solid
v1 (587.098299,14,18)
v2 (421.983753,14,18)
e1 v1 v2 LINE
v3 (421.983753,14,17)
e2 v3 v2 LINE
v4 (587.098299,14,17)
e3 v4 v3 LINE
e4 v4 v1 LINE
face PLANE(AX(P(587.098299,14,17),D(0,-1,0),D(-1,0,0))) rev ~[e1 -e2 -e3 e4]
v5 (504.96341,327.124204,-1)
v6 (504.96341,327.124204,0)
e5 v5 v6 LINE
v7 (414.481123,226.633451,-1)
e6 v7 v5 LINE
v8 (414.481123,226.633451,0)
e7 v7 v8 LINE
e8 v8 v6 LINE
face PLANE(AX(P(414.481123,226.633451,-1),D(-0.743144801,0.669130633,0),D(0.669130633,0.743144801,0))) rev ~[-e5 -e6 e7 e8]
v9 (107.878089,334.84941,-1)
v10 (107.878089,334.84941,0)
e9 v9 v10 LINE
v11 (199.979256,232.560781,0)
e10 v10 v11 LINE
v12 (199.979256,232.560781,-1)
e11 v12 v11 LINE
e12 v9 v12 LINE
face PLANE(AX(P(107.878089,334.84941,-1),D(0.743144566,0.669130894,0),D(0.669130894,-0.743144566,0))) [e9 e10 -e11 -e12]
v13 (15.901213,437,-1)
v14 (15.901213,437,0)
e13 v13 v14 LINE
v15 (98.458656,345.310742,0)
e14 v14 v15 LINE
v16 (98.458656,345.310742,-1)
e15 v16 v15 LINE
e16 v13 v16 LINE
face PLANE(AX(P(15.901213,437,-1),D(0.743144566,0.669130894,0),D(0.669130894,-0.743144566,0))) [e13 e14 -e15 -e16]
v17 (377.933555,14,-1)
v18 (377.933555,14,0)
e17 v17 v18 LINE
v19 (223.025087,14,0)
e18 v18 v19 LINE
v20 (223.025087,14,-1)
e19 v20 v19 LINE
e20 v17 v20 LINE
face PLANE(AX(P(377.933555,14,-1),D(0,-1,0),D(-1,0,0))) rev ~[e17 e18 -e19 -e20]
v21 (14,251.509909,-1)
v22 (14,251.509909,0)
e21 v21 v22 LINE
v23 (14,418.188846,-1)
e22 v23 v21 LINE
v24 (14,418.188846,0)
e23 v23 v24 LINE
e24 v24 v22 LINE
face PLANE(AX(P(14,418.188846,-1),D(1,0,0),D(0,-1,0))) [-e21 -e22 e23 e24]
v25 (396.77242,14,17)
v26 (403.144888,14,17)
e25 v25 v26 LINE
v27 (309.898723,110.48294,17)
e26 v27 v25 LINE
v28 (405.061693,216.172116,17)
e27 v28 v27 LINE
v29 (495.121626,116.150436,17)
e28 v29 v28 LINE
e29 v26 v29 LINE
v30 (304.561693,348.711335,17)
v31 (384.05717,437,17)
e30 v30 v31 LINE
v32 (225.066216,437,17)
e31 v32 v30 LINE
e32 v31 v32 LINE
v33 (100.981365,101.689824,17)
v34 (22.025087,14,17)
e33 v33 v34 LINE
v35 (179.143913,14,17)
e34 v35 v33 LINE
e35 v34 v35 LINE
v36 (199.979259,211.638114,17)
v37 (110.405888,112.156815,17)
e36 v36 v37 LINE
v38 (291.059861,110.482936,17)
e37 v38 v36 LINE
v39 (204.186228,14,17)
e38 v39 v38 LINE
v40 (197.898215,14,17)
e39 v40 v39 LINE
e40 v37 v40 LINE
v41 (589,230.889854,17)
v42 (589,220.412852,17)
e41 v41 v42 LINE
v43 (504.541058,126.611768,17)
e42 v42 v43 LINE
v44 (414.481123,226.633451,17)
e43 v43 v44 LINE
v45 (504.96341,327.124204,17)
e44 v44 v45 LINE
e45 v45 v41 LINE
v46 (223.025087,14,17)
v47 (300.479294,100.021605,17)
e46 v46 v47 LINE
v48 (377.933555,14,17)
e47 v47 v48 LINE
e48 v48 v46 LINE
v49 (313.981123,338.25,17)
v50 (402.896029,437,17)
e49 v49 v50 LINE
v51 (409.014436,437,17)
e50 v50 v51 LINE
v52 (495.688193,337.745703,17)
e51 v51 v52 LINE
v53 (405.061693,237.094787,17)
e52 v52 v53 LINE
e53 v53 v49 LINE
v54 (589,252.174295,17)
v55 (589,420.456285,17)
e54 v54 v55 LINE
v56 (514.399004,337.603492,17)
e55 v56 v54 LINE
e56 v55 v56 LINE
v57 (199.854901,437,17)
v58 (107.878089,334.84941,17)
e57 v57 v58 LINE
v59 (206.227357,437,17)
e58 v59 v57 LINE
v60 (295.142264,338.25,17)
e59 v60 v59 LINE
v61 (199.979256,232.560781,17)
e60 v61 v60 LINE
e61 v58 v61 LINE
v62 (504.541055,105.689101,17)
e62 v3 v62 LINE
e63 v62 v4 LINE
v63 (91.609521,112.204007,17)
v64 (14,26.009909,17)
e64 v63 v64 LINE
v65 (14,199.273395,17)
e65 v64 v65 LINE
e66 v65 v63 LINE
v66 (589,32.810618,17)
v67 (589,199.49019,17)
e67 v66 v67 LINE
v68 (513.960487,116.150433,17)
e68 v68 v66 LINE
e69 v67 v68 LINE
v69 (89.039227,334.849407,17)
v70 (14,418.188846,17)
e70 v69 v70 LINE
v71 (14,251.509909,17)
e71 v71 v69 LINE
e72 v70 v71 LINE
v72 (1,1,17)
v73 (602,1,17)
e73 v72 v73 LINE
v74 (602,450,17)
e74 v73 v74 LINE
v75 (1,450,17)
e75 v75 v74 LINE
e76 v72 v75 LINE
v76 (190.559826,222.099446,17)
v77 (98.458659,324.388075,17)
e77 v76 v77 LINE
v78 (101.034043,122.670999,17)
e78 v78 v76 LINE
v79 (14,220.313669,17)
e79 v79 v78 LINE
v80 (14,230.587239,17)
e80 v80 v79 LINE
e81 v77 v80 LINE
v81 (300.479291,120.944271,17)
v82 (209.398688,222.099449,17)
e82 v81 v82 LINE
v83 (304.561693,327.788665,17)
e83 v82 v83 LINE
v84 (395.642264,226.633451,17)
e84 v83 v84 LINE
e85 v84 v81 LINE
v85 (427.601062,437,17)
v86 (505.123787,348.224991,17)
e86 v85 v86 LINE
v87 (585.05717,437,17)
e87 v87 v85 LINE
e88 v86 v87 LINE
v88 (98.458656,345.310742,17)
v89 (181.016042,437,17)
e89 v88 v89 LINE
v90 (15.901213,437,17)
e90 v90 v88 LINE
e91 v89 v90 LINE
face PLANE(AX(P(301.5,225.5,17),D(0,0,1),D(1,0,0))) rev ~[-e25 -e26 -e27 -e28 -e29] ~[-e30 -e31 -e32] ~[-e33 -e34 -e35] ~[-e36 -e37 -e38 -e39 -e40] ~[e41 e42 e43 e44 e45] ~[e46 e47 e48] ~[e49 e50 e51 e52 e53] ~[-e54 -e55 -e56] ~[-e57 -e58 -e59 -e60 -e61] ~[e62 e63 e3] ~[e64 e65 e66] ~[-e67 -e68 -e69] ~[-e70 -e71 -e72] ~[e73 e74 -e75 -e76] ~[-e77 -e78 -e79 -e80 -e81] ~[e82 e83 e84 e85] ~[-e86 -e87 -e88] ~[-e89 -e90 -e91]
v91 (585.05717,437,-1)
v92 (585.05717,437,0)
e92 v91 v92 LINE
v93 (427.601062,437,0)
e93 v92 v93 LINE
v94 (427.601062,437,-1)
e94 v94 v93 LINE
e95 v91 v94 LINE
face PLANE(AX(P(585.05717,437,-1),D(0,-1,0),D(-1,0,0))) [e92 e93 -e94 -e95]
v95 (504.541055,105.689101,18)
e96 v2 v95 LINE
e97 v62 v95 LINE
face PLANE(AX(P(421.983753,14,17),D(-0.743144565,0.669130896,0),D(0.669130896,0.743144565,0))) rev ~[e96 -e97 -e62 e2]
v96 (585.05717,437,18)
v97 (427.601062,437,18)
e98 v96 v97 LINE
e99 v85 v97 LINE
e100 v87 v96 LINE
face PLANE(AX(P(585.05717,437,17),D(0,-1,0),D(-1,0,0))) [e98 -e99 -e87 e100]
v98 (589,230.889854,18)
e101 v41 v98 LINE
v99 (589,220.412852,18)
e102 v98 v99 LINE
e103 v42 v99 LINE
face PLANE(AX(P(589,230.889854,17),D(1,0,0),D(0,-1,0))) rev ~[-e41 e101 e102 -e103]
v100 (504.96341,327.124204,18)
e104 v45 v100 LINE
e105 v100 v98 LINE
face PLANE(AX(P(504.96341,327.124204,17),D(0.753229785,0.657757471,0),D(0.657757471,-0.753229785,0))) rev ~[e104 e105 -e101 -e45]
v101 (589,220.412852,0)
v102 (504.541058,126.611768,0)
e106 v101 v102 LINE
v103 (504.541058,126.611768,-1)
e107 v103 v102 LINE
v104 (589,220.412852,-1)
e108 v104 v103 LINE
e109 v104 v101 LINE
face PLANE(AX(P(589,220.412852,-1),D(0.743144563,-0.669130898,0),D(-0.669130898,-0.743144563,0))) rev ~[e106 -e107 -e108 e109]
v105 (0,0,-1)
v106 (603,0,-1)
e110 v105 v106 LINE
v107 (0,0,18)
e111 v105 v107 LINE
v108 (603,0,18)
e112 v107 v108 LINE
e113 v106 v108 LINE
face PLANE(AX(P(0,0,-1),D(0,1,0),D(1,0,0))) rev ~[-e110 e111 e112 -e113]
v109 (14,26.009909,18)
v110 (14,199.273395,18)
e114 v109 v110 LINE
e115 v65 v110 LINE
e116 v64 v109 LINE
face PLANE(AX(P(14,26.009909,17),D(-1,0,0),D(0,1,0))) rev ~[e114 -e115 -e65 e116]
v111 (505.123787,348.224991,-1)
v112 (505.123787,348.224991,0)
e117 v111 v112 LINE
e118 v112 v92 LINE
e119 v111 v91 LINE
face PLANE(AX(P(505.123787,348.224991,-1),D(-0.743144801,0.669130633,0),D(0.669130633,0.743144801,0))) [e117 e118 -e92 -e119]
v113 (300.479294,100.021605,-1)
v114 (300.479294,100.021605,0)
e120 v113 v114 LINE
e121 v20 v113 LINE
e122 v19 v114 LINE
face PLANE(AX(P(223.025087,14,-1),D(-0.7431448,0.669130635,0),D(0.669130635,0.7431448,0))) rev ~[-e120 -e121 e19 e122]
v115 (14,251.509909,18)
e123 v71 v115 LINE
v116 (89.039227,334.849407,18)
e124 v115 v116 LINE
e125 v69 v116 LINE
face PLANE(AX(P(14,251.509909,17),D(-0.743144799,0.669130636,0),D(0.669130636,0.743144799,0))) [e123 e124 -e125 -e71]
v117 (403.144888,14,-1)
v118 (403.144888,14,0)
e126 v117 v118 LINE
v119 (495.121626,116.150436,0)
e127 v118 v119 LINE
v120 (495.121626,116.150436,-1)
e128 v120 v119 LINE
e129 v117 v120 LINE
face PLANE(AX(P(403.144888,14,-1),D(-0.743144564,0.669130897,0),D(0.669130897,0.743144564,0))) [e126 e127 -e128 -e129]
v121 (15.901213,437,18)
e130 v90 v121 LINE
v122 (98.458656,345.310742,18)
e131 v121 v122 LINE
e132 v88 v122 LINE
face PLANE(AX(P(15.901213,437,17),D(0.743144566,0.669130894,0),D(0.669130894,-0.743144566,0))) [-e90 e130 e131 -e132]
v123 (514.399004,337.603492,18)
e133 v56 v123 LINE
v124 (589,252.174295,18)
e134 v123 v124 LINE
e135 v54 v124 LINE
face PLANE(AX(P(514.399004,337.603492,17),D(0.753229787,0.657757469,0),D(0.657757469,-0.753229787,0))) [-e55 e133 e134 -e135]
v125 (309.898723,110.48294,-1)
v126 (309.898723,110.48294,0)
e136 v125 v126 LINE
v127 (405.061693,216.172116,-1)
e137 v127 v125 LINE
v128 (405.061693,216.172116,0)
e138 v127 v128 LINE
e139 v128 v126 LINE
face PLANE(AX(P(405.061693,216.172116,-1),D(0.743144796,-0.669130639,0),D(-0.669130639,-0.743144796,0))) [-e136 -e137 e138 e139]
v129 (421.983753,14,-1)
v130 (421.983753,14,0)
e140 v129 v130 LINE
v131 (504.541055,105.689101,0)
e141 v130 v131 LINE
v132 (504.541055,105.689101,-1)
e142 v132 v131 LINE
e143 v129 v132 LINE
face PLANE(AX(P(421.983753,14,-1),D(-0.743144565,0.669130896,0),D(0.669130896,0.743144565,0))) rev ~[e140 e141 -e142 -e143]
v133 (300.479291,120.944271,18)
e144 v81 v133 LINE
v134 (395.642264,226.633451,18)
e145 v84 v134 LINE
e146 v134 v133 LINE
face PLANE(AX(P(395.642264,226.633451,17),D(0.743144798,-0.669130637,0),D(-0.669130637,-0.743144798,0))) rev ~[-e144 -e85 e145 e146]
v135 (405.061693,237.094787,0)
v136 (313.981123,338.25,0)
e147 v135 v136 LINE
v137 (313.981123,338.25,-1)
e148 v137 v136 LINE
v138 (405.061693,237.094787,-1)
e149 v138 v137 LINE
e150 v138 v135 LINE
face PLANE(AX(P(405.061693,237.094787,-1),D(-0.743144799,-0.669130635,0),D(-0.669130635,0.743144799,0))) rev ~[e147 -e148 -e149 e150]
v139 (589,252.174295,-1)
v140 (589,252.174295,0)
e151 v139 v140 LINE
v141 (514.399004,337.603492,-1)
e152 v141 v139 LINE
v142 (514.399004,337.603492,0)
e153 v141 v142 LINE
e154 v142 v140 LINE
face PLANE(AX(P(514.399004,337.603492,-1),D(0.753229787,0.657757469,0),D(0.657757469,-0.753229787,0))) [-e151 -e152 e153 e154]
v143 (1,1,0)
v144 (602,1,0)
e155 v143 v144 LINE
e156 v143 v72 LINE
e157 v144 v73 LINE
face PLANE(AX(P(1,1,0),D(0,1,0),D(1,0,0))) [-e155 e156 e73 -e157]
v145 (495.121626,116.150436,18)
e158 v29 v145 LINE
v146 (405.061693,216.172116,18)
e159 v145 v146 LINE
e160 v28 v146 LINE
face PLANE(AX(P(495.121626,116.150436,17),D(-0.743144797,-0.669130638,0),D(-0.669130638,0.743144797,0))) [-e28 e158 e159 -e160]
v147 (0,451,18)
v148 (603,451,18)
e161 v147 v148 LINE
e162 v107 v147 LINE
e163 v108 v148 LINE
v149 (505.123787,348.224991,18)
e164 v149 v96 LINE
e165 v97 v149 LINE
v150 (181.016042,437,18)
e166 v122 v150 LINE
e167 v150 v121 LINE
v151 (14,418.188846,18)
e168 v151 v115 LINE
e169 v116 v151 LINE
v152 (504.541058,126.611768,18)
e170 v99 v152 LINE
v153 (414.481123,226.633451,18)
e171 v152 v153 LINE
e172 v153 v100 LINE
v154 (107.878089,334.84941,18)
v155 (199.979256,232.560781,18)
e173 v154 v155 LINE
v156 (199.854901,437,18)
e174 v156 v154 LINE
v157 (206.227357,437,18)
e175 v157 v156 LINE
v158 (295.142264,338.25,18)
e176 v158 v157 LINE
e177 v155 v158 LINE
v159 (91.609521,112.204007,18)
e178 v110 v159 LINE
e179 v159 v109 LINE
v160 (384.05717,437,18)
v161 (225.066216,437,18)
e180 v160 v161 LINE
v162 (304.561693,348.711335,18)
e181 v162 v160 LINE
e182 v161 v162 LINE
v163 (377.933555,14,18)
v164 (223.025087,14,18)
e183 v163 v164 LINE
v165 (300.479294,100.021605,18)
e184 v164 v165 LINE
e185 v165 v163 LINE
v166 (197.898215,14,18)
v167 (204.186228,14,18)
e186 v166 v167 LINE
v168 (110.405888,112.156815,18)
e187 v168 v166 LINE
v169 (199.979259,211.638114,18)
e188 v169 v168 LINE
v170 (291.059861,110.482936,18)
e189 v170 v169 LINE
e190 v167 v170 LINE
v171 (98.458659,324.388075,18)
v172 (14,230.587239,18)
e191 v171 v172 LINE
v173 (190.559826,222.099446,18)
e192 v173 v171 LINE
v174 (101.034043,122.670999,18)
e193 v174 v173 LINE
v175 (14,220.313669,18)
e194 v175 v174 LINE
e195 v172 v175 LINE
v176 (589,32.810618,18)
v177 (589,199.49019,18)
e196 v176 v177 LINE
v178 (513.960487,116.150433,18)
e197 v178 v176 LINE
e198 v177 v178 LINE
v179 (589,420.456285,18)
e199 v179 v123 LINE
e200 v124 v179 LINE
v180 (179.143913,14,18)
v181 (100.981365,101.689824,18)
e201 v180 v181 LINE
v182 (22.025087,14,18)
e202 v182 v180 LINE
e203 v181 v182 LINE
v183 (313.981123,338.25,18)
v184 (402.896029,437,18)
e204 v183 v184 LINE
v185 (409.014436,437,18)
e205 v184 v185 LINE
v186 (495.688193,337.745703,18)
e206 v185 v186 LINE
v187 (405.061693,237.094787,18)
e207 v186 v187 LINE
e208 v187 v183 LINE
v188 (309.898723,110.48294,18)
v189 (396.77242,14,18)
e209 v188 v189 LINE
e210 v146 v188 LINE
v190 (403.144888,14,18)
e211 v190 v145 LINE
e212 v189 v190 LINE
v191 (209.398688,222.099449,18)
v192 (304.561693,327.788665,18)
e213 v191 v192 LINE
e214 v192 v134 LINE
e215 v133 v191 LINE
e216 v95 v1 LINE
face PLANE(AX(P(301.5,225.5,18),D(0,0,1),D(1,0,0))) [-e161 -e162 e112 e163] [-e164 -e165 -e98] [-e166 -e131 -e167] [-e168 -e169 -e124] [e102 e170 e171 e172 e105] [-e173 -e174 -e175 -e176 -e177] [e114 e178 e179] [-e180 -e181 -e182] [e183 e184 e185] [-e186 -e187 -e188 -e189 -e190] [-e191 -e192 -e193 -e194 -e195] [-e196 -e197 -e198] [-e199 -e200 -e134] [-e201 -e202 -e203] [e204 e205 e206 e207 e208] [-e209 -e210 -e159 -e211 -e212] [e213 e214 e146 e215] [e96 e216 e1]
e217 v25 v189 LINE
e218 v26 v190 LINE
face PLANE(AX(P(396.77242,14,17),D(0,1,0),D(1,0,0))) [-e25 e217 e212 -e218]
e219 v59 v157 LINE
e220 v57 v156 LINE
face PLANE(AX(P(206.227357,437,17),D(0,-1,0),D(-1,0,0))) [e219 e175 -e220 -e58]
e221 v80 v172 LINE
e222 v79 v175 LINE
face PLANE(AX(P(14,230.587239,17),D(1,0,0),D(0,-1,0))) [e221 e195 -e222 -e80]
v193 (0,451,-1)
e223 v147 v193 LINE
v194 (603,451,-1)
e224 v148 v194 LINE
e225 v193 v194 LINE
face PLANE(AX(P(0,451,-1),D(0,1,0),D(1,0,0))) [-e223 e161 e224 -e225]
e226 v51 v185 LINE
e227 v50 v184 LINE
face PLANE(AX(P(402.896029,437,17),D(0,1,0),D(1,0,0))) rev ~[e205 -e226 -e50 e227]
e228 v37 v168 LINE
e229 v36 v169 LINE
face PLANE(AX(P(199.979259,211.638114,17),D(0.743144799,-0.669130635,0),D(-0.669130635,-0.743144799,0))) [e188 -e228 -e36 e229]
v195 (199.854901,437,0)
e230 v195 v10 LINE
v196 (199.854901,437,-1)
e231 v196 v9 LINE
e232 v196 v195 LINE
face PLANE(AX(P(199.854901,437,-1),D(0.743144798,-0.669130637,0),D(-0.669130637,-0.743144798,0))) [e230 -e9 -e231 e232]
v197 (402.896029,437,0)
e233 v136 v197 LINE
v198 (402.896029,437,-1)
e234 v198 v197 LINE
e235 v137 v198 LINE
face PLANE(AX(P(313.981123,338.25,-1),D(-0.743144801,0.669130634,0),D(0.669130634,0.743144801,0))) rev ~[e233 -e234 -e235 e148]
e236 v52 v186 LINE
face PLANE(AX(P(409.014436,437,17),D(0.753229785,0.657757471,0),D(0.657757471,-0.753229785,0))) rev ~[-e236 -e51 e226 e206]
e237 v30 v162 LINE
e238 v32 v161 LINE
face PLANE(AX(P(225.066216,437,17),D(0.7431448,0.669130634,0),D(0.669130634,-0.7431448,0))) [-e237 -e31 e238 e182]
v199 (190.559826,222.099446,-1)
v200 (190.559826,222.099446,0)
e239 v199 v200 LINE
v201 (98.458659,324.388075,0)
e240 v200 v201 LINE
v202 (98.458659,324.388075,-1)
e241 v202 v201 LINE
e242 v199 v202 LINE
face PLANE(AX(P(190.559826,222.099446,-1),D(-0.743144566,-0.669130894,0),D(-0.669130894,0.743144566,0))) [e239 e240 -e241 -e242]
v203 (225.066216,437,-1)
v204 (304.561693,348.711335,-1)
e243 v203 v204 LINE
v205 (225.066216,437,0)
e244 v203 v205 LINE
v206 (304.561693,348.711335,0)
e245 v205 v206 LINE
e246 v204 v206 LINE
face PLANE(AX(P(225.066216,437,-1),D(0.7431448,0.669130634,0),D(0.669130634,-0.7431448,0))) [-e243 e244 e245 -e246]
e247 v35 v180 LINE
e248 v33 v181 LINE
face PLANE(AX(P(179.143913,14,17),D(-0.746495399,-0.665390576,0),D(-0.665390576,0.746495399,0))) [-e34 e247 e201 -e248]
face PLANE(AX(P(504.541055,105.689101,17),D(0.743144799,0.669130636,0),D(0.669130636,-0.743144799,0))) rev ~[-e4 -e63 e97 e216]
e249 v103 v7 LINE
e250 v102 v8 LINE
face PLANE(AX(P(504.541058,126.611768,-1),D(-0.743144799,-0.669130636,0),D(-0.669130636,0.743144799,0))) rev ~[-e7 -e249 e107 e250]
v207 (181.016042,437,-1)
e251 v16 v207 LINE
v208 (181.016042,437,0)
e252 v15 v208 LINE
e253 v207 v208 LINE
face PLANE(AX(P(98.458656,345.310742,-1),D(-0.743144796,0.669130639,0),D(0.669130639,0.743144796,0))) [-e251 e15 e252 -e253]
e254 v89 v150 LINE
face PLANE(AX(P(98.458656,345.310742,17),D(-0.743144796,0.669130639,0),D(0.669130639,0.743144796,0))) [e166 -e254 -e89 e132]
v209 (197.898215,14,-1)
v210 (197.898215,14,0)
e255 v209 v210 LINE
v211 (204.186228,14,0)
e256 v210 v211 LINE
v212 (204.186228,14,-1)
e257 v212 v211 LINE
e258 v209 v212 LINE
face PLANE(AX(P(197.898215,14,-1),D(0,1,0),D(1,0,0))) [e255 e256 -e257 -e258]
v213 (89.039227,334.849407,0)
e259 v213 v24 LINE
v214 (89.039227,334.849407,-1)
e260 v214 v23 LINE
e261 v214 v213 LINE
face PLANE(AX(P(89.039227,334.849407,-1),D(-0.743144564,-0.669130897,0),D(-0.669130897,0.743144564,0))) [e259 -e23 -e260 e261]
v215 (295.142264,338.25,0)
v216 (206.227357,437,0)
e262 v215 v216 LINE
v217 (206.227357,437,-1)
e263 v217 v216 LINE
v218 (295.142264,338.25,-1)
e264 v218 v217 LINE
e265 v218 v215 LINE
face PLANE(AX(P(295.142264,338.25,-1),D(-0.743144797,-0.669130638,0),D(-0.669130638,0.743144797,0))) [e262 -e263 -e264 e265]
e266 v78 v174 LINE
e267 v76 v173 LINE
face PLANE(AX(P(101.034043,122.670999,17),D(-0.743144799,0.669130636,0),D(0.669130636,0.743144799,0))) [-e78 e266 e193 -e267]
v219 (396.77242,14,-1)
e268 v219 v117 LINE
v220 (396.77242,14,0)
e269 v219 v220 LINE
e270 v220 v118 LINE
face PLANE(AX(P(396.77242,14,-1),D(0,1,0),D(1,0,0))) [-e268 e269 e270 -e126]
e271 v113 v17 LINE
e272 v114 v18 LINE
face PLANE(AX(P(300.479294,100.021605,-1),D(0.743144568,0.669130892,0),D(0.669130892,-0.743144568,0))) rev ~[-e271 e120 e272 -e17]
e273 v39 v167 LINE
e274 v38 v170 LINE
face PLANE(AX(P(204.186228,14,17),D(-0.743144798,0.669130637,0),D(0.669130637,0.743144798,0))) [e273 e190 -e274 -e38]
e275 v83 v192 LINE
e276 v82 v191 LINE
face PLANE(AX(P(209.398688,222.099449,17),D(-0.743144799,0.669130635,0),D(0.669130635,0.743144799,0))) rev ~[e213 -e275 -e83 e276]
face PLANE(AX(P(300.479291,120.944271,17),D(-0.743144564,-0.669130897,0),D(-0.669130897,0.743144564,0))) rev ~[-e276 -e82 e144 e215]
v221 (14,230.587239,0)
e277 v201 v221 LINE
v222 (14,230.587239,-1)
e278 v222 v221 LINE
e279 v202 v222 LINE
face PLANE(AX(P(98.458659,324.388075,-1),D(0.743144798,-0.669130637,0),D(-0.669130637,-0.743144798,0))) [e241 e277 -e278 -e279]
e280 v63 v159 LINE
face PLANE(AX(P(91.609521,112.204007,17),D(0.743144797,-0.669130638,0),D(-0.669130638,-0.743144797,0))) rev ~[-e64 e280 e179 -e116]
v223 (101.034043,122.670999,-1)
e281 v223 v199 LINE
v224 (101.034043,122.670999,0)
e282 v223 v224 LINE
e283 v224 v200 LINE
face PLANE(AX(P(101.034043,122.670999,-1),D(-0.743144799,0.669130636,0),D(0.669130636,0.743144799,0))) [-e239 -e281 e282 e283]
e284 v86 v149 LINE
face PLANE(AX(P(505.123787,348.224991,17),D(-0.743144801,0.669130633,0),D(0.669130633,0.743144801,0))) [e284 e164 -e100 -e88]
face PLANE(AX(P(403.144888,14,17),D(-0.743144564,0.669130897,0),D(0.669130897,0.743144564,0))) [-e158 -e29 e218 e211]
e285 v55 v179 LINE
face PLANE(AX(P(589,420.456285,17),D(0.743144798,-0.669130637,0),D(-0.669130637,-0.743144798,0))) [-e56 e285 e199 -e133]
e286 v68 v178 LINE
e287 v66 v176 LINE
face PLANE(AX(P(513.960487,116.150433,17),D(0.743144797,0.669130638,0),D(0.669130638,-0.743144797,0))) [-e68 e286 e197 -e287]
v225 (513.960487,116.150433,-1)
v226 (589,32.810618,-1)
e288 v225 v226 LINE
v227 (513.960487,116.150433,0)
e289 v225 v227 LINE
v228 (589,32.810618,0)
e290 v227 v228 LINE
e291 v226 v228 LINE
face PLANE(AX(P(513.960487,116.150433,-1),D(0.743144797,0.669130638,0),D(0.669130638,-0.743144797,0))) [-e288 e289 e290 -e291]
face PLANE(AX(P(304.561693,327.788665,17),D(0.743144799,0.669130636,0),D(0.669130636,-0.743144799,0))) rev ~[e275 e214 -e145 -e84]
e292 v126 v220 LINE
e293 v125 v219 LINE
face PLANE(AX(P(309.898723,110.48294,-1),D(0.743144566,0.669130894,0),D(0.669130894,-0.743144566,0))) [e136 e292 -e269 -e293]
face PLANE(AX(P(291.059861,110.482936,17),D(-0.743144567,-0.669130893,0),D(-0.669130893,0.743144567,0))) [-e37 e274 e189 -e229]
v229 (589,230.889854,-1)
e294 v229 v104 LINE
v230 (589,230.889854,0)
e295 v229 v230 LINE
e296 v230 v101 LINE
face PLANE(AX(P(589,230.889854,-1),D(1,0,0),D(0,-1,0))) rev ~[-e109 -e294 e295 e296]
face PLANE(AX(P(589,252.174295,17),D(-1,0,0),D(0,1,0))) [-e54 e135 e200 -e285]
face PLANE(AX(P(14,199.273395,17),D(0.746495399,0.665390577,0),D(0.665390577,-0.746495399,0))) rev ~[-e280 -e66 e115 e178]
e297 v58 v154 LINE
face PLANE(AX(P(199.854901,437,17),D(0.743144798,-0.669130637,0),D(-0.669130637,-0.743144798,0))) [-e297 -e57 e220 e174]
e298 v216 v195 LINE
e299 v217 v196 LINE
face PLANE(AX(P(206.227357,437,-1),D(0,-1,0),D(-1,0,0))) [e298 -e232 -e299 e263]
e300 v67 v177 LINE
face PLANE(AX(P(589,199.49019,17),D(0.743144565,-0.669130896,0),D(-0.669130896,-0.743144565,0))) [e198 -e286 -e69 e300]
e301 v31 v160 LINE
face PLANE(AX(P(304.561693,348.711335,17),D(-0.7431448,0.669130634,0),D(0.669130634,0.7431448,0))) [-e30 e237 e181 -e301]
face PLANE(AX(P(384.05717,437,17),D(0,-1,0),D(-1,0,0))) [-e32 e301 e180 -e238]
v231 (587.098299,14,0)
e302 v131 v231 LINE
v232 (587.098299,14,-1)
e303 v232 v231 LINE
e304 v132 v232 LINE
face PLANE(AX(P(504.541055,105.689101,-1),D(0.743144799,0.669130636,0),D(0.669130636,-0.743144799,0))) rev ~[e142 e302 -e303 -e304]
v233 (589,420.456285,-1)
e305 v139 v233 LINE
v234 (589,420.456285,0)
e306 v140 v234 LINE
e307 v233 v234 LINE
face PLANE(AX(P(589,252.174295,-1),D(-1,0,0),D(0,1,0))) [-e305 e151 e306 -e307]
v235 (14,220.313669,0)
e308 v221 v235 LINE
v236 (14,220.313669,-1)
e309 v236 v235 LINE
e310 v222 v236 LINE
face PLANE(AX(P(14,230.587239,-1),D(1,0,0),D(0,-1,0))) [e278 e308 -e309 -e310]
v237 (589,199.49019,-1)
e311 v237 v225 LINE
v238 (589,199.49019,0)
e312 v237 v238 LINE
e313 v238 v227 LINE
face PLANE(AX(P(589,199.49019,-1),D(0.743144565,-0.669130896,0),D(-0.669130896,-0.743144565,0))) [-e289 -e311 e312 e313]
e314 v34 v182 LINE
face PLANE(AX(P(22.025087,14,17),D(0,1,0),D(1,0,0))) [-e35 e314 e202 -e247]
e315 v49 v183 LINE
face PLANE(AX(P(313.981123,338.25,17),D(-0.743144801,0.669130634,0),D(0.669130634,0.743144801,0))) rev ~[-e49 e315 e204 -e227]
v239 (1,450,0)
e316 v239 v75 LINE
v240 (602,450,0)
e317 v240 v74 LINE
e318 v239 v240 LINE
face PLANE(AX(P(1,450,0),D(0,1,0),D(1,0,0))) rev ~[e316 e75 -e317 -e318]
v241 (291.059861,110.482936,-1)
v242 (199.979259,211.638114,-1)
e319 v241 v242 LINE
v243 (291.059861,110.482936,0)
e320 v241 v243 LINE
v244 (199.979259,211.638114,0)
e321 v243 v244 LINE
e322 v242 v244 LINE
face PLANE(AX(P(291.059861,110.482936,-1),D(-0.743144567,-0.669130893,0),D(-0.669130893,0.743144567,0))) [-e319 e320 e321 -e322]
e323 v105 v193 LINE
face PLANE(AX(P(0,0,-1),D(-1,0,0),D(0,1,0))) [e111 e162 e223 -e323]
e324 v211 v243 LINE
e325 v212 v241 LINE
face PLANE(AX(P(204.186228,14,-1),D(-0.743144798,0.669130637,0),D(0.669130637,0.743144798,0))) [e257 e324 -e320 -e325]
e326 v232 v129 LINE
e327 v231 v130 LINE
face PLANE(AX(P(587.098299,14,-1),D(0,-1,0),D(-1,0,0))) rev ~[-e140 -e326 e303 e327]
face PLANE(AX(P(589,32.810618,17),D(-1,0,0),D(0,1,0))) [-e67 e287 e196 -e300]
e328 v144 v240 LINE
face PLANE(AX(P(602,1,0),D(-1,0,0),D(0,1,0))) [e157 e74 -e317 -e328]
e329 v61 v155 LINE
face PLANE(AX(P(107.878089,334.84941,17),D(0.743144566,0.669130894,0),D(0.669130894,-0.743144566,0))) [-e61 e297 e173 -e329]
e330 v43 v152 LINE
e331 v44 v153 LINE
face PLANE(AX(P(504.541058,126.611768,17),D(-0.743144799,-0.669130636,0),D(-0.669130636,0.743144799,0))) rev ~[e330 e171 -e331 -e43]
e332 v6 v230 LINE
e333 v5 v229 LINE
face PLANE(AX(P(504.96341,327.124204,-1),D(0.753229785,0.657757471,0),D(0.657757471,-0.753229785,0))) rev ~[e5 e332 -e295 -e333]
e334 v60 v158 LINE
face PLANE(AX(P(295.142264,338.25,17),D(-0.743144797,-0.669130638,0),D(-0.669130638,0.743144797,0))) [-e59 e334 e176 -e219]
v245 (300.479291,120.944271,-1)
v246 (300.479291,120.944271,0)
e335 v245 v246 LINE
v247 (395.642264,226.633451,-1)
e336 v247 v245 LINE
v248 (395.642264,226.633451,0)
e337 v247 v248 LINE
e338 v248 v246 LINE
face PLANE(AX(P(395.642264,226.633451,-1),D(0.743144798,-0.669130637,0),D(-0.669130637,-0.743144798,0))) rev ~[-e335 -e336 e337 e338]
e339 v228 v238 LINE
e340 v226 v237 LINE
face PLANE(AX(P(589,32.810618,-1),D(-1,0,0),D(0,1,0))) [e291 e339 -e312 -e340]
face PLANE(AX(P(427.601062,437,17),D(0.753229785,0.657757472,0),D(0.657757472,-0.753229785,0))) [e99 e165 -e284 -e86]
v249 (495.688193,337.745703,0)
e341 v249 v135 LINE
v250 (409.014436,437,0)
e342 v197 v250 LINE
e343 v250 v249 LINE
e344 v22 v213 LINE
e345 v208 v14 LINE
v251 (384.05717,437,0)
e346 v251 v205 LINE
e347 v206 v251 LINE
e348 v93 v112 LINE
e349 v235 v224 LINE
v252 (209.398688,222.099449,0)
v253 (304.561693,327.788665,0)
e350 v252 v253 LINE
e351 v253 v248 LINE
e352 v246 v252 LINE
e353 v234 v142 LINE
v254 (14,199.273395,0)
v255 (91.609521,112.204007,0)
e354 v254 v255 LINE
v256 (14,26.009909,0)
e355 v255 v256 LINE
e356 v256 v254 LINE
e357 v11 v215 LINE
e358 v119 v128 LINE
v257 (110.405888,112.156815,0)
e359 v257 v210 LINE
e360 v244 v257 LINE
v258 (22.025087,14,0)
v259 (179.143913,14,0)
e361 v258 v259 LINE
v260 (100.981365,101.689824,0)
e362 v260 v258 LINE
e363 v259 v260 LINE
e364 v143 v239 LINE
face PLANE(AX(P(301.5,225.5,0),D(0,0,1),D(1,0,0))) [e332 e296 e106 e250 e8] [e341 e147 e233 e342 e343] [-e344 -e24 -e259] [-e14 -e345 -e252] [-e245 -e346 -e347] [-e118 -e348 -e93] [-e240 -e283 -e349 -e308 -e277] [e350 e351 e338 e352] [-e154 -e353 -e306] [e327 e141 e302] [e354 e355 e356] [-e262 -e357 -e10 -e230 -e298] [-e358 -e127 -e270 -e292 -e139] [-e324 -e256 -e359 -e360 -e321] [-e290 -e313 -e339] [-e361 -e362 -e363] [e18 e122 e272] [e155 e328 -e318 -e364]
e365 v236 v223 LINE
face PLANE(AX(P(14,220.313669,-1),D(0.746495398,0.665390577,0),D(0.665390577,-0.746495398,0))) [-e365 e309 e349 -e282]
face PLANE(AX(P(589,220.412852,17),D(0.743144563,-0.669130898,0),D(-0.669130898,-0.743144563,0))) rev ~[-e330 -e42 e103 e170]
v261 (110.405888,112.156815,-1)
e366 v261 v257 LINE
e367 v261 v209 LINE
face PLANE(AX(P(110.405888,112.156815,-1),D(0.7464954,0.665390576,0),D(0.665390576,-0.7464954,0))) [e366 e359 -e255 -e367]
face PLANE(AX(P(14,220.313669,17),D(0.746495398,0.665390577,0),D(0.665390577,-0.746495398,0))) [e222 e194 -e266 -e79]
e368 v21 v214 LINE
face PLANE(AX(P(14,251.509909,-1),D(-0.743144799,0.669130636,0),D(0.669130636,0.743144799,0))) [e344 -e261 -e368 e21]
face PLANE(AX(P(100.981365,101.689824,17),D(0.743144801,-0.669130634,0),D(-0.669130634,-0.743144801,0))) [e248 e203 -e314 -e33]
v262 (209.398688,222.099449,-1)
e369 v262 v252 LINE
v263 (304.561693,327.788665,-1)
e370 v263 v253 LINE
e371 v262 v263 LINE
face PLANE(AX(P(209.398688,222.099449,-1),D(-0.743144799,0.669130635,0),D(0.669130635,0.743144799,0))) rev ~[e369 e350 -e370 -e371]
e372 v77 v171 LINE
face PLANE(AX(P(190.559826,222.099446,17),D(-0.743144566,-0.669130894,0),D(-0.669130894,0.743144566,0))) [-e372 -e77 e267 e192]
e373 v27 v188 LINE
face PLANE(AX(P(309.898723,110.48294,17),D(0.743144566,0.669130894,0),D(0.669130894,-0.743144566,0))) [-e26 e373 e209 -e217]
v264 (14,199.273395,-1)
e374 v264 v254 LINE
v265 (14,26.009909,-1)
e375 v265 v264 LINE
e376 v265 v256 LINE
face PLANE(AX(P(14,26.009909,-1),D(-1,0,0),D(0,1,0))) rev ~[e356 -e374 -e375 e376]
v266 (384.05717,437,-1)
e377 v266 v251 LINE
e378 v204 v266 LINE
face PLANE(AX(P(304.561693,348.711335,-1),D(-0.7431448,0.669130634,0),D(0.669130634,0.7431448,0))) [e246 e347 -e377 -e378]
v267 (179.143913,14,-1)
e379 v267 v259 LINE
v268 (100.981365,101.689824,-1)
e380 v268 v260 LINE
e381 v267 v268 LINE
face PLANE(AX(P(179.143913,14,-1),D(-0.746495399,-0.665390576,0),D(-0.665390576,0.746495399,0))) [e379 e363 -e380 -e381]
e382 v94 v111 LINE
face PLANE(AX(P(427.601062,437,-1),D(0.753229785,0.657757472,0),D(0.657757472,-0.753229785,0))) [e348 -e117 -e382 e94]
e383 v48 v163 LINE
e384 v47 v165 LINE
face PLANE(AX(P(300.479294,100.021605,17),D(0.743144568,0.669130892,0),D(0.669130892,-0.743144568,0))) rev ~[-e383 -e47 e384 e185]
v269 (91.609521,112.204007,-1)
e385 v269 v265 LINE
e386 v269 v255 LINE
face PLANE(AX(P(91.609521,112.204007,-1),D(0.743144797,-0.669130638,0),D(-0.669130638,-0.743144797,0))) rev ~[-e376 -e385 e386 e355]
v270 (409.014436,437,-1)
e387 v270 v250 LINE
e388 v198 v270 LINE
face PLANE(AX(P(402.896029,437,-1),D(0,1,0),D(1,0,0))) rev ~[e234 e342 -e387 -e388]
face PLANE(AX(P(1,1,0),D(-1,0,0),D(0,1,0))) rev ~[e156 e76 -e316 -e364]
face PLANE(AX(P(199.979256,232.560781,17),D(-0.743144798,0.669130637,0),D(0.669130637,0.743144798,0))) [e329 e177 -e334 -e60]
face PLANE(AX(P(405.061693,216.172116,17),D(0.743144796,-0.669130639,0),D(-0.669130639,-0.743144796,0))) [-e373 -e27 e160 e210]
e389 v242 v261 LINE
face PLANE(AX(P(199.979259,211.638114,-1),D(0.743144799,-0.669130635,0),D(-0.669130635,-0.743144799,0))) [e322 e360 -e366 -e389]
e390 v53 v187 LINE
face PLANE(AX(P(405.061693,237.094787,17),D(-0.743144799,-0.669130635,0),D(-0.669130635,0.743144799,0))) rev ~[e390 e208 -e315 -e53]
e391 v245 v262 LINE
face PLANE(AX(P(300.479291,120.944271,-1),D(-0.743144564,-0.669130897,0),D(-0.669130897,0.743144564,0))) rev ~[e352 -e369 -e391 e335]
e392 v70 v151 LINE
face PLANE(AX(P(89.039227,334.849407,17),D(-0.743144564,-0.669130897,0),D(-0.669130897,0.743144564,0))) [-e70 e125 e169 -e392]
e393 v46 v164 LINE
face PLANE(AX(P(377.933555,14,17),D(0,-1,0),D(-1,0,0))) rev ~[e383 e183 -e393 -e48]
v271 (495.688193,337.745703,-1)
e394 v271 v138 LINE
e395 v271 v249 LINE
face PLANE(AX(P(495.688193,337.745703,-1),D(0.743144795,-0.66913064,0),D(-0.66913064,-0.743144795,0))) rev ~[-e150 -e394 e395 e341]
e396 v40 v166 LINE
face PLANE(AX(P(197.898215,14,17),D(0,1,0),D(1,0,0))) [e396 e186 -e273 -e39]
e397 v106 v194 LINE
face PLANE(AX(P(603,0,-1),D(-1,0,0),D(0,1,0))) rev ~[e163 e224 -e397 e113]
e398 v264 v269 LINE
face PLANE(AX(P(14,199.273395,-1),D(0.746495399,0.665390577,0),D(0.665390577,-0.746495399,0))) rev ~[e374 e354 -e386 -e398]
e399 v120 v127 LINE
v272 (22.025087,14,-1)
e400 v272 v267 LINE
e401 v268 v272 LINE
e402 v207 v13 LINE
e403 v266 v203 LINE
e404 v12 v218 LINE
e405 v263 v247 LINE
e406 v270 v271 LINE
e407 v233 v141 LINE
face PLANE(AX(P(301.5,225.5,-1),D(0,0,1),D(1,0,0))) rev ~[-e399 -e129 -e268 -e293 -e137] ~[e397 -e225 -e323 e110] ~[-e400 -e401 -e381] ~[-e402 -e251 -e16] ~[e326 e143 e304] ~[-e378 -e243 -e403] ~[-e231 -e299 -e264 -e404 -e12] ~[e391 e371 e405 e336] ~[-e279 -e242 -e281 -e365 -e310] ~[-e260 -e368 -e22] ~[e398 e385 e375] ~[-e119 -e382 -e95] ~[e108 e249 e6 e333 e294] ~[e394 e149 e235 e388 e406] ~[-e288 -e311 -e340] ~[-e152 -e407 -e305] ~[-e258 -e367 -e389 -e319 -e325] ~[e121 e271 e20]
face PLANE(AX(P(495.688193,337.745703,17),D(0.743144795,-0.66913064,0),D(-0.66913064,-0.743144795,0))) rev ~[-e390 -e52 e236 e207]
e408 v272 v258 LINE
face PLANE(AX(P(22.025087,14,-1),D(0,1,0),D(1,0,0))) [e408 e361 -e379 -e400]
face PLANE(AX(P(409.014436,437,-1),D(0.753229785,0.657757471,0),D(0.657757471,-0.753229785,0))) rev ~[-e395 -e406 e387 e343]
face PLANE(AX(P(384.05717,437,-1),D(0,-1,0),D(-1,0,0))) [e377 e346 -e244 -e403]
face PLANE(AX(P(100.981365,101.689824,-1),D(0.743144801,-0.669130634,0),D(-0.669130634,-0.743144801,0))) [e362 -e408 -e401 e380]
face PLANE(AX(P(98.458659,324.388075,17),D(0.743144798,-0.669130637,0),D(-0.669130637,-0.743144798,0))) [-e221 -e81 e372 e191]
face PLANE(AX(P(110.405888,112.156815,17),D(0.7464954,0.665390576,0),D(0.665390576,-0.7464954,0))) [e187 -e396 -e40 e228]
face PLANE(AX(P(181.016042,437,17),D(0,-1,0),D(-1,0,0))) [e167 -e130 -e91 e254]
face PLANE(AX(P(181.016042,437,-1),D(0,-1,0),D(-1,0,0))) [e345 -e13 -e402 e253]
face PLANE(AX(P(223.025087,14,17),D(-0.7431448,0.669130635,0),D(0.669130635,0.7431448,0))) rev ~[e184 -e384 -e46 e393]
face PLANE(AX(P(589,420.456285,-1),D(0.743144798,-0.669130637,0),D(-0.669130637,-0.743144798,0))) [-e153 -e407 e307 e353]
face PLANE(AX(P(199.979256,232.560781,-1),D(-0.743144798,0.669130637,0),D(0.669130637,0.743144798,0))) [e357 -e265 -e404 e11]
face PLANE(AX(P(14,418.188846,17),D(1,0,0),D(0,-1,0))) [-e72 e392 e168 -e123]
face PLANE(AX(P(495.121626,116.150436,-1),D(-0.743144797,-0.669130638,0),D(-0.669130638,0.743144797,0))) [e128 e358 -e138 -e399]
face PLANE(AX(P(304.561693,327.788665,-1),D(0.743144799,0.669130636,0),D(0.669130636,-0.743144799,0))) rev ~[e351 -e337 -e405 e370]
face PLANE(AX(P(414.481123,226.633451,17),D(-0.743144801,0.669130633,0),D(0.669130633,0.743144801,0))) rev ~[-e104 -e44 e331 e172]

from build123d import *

# Parameters (mm, degrees)
SKETCH_W            = 603
SKETCH_H            = 451
SKETCH_W_2          = 601
SKETCH_H_2          = 449
PAD_DEPTH           = 17
SKETCH001_W         = 603
SKETCH001_H         = 451
PAD001_DEPTH        = 1
LINEARPATTERN_COUNT = 2
LINEARPATTERN_PITCH = 18


with BuildPart() as part:
    # Sketch → Pad (new body)
    with BuildSketch(Plane.XY):
        with Locations((301.5, 225.5)):
            Rectangle(SKETCH_W, SKETCH_H)
        with Locations((301.5, 225.5)):
            Rectangle(SKETCH_W_2, SKETCH_H_2, mode=Mode.SUBTRACT)
    extrude(amount=PAD_DEPTH)

    # Sketch001 (on Face10 of Pad) → Pad001 (join)
    with BuildSketch(Plane.XY.offset(17)):
        with Locations((301.5, 225.5)):
            Rectangle(SKETCH001_W, SKETCH001_H)
        Polygon((22.025087, 14), (179.143913, 14), (100.981365, 101.689824), align=None, mode=Mode.SUBTRACT)
        Polygon((589, 32.810618), (589, 199.49019), (513.960487, 116.150433), align=None, mode=Mode.SUBTRACT)
        Polygon((585.05717, 437), (427.601062, 437), (505.123787, 348.224991), align=None, mode=Mode.SUBTRACT)
        Polygon((14, 418.188846), (14, 251.509909), (89.039227, 334.849407), align=None, mode=Mode.SUBTRACT)
        Polygon((15.901213, 437), (98.458656, 345.310742), (181.016042, 437), align=None, mode=Mode.SUBTRACT)
        Polygon((225.066216, 437), (304.561693, 348.711335), (384.05717, 437), align=None, mode=Mode.SUBTRACT)
        Polygon((199.854901, 437), (107.878089, 334.84941), (199.979256, 232.560781), (295.142264, 338.25), (206.227357, 437), align=None, mode=Mode.SUBTRACT)
        Polygon((409.014436, 437), (495.688193, 337.745703), (405.061693, 237.094787), (313.981123, 338.25), (402.896029, 437), align=None, mode=Mode.SUBTRACT)
        Polygon((589, 220.412852), (504.541058, 126.611768), (414.481123, 226.633451), (504.96341, 327.124204), (589, 230.889854), align=None, mode=Mode.SUBTRACT)
        Polygon((421.983753, 14), (504.541055, 105.689101), (587.098299, 14), align=None, mode=Mode.SUBTRACT)
        Polygon((223.025087, 14), (300.479294, 100.021605), (377.933555, 14), align=None, mode=Mode.SUBTRACT)
        Polygon((197.898215, 14), (204.186228, 14), (291.059861, 110.482936), (199.979259, 211.638114), (110.405888, 112.156815), align=None, mode=Mode.SUBTRACT)
        Polygon((396.77242, 14), (403.144888, 14), (495.121626, 116.150436), (405.061693, 216.172116), (309.898723, 110.48294), align=None, mode=Mode.SUBTRACT)
        Polygon((14, 220.313669), (101.034043, 122.670999), (190.559826, 222.099446), (98.458659, 324.388075), (14, 230.587239), align=None, mode=Mode.SUBTRACT)
        Polygon((14, 199.273395), (91.609521, 112.204007), (14, 26.009909), align=None, mode=Mode.SUBTRACT)
        Polygon((304.561693, 327.788665), (395.642264, 226.633451), (300.479291, 120.944271), (209.398688, 222.099449), align=None, mode=Mode.SUBTRACT)
        Polygon((514.399004, 337.603492), (589, 252.174295), (589, 420.456285), align=None, mode=Mode.SUBTRACT)
    pad001 = extrude(amount=PAD001_DEPTH)

    # LinearPattern: Pad001 ×2
    with Locations(*[(0, 0, -i * LINEARPATTERN_PITCH) for i in range(1, LINEARPATTERN_COUNT)]):
        add(pad001)


solid = part.part
